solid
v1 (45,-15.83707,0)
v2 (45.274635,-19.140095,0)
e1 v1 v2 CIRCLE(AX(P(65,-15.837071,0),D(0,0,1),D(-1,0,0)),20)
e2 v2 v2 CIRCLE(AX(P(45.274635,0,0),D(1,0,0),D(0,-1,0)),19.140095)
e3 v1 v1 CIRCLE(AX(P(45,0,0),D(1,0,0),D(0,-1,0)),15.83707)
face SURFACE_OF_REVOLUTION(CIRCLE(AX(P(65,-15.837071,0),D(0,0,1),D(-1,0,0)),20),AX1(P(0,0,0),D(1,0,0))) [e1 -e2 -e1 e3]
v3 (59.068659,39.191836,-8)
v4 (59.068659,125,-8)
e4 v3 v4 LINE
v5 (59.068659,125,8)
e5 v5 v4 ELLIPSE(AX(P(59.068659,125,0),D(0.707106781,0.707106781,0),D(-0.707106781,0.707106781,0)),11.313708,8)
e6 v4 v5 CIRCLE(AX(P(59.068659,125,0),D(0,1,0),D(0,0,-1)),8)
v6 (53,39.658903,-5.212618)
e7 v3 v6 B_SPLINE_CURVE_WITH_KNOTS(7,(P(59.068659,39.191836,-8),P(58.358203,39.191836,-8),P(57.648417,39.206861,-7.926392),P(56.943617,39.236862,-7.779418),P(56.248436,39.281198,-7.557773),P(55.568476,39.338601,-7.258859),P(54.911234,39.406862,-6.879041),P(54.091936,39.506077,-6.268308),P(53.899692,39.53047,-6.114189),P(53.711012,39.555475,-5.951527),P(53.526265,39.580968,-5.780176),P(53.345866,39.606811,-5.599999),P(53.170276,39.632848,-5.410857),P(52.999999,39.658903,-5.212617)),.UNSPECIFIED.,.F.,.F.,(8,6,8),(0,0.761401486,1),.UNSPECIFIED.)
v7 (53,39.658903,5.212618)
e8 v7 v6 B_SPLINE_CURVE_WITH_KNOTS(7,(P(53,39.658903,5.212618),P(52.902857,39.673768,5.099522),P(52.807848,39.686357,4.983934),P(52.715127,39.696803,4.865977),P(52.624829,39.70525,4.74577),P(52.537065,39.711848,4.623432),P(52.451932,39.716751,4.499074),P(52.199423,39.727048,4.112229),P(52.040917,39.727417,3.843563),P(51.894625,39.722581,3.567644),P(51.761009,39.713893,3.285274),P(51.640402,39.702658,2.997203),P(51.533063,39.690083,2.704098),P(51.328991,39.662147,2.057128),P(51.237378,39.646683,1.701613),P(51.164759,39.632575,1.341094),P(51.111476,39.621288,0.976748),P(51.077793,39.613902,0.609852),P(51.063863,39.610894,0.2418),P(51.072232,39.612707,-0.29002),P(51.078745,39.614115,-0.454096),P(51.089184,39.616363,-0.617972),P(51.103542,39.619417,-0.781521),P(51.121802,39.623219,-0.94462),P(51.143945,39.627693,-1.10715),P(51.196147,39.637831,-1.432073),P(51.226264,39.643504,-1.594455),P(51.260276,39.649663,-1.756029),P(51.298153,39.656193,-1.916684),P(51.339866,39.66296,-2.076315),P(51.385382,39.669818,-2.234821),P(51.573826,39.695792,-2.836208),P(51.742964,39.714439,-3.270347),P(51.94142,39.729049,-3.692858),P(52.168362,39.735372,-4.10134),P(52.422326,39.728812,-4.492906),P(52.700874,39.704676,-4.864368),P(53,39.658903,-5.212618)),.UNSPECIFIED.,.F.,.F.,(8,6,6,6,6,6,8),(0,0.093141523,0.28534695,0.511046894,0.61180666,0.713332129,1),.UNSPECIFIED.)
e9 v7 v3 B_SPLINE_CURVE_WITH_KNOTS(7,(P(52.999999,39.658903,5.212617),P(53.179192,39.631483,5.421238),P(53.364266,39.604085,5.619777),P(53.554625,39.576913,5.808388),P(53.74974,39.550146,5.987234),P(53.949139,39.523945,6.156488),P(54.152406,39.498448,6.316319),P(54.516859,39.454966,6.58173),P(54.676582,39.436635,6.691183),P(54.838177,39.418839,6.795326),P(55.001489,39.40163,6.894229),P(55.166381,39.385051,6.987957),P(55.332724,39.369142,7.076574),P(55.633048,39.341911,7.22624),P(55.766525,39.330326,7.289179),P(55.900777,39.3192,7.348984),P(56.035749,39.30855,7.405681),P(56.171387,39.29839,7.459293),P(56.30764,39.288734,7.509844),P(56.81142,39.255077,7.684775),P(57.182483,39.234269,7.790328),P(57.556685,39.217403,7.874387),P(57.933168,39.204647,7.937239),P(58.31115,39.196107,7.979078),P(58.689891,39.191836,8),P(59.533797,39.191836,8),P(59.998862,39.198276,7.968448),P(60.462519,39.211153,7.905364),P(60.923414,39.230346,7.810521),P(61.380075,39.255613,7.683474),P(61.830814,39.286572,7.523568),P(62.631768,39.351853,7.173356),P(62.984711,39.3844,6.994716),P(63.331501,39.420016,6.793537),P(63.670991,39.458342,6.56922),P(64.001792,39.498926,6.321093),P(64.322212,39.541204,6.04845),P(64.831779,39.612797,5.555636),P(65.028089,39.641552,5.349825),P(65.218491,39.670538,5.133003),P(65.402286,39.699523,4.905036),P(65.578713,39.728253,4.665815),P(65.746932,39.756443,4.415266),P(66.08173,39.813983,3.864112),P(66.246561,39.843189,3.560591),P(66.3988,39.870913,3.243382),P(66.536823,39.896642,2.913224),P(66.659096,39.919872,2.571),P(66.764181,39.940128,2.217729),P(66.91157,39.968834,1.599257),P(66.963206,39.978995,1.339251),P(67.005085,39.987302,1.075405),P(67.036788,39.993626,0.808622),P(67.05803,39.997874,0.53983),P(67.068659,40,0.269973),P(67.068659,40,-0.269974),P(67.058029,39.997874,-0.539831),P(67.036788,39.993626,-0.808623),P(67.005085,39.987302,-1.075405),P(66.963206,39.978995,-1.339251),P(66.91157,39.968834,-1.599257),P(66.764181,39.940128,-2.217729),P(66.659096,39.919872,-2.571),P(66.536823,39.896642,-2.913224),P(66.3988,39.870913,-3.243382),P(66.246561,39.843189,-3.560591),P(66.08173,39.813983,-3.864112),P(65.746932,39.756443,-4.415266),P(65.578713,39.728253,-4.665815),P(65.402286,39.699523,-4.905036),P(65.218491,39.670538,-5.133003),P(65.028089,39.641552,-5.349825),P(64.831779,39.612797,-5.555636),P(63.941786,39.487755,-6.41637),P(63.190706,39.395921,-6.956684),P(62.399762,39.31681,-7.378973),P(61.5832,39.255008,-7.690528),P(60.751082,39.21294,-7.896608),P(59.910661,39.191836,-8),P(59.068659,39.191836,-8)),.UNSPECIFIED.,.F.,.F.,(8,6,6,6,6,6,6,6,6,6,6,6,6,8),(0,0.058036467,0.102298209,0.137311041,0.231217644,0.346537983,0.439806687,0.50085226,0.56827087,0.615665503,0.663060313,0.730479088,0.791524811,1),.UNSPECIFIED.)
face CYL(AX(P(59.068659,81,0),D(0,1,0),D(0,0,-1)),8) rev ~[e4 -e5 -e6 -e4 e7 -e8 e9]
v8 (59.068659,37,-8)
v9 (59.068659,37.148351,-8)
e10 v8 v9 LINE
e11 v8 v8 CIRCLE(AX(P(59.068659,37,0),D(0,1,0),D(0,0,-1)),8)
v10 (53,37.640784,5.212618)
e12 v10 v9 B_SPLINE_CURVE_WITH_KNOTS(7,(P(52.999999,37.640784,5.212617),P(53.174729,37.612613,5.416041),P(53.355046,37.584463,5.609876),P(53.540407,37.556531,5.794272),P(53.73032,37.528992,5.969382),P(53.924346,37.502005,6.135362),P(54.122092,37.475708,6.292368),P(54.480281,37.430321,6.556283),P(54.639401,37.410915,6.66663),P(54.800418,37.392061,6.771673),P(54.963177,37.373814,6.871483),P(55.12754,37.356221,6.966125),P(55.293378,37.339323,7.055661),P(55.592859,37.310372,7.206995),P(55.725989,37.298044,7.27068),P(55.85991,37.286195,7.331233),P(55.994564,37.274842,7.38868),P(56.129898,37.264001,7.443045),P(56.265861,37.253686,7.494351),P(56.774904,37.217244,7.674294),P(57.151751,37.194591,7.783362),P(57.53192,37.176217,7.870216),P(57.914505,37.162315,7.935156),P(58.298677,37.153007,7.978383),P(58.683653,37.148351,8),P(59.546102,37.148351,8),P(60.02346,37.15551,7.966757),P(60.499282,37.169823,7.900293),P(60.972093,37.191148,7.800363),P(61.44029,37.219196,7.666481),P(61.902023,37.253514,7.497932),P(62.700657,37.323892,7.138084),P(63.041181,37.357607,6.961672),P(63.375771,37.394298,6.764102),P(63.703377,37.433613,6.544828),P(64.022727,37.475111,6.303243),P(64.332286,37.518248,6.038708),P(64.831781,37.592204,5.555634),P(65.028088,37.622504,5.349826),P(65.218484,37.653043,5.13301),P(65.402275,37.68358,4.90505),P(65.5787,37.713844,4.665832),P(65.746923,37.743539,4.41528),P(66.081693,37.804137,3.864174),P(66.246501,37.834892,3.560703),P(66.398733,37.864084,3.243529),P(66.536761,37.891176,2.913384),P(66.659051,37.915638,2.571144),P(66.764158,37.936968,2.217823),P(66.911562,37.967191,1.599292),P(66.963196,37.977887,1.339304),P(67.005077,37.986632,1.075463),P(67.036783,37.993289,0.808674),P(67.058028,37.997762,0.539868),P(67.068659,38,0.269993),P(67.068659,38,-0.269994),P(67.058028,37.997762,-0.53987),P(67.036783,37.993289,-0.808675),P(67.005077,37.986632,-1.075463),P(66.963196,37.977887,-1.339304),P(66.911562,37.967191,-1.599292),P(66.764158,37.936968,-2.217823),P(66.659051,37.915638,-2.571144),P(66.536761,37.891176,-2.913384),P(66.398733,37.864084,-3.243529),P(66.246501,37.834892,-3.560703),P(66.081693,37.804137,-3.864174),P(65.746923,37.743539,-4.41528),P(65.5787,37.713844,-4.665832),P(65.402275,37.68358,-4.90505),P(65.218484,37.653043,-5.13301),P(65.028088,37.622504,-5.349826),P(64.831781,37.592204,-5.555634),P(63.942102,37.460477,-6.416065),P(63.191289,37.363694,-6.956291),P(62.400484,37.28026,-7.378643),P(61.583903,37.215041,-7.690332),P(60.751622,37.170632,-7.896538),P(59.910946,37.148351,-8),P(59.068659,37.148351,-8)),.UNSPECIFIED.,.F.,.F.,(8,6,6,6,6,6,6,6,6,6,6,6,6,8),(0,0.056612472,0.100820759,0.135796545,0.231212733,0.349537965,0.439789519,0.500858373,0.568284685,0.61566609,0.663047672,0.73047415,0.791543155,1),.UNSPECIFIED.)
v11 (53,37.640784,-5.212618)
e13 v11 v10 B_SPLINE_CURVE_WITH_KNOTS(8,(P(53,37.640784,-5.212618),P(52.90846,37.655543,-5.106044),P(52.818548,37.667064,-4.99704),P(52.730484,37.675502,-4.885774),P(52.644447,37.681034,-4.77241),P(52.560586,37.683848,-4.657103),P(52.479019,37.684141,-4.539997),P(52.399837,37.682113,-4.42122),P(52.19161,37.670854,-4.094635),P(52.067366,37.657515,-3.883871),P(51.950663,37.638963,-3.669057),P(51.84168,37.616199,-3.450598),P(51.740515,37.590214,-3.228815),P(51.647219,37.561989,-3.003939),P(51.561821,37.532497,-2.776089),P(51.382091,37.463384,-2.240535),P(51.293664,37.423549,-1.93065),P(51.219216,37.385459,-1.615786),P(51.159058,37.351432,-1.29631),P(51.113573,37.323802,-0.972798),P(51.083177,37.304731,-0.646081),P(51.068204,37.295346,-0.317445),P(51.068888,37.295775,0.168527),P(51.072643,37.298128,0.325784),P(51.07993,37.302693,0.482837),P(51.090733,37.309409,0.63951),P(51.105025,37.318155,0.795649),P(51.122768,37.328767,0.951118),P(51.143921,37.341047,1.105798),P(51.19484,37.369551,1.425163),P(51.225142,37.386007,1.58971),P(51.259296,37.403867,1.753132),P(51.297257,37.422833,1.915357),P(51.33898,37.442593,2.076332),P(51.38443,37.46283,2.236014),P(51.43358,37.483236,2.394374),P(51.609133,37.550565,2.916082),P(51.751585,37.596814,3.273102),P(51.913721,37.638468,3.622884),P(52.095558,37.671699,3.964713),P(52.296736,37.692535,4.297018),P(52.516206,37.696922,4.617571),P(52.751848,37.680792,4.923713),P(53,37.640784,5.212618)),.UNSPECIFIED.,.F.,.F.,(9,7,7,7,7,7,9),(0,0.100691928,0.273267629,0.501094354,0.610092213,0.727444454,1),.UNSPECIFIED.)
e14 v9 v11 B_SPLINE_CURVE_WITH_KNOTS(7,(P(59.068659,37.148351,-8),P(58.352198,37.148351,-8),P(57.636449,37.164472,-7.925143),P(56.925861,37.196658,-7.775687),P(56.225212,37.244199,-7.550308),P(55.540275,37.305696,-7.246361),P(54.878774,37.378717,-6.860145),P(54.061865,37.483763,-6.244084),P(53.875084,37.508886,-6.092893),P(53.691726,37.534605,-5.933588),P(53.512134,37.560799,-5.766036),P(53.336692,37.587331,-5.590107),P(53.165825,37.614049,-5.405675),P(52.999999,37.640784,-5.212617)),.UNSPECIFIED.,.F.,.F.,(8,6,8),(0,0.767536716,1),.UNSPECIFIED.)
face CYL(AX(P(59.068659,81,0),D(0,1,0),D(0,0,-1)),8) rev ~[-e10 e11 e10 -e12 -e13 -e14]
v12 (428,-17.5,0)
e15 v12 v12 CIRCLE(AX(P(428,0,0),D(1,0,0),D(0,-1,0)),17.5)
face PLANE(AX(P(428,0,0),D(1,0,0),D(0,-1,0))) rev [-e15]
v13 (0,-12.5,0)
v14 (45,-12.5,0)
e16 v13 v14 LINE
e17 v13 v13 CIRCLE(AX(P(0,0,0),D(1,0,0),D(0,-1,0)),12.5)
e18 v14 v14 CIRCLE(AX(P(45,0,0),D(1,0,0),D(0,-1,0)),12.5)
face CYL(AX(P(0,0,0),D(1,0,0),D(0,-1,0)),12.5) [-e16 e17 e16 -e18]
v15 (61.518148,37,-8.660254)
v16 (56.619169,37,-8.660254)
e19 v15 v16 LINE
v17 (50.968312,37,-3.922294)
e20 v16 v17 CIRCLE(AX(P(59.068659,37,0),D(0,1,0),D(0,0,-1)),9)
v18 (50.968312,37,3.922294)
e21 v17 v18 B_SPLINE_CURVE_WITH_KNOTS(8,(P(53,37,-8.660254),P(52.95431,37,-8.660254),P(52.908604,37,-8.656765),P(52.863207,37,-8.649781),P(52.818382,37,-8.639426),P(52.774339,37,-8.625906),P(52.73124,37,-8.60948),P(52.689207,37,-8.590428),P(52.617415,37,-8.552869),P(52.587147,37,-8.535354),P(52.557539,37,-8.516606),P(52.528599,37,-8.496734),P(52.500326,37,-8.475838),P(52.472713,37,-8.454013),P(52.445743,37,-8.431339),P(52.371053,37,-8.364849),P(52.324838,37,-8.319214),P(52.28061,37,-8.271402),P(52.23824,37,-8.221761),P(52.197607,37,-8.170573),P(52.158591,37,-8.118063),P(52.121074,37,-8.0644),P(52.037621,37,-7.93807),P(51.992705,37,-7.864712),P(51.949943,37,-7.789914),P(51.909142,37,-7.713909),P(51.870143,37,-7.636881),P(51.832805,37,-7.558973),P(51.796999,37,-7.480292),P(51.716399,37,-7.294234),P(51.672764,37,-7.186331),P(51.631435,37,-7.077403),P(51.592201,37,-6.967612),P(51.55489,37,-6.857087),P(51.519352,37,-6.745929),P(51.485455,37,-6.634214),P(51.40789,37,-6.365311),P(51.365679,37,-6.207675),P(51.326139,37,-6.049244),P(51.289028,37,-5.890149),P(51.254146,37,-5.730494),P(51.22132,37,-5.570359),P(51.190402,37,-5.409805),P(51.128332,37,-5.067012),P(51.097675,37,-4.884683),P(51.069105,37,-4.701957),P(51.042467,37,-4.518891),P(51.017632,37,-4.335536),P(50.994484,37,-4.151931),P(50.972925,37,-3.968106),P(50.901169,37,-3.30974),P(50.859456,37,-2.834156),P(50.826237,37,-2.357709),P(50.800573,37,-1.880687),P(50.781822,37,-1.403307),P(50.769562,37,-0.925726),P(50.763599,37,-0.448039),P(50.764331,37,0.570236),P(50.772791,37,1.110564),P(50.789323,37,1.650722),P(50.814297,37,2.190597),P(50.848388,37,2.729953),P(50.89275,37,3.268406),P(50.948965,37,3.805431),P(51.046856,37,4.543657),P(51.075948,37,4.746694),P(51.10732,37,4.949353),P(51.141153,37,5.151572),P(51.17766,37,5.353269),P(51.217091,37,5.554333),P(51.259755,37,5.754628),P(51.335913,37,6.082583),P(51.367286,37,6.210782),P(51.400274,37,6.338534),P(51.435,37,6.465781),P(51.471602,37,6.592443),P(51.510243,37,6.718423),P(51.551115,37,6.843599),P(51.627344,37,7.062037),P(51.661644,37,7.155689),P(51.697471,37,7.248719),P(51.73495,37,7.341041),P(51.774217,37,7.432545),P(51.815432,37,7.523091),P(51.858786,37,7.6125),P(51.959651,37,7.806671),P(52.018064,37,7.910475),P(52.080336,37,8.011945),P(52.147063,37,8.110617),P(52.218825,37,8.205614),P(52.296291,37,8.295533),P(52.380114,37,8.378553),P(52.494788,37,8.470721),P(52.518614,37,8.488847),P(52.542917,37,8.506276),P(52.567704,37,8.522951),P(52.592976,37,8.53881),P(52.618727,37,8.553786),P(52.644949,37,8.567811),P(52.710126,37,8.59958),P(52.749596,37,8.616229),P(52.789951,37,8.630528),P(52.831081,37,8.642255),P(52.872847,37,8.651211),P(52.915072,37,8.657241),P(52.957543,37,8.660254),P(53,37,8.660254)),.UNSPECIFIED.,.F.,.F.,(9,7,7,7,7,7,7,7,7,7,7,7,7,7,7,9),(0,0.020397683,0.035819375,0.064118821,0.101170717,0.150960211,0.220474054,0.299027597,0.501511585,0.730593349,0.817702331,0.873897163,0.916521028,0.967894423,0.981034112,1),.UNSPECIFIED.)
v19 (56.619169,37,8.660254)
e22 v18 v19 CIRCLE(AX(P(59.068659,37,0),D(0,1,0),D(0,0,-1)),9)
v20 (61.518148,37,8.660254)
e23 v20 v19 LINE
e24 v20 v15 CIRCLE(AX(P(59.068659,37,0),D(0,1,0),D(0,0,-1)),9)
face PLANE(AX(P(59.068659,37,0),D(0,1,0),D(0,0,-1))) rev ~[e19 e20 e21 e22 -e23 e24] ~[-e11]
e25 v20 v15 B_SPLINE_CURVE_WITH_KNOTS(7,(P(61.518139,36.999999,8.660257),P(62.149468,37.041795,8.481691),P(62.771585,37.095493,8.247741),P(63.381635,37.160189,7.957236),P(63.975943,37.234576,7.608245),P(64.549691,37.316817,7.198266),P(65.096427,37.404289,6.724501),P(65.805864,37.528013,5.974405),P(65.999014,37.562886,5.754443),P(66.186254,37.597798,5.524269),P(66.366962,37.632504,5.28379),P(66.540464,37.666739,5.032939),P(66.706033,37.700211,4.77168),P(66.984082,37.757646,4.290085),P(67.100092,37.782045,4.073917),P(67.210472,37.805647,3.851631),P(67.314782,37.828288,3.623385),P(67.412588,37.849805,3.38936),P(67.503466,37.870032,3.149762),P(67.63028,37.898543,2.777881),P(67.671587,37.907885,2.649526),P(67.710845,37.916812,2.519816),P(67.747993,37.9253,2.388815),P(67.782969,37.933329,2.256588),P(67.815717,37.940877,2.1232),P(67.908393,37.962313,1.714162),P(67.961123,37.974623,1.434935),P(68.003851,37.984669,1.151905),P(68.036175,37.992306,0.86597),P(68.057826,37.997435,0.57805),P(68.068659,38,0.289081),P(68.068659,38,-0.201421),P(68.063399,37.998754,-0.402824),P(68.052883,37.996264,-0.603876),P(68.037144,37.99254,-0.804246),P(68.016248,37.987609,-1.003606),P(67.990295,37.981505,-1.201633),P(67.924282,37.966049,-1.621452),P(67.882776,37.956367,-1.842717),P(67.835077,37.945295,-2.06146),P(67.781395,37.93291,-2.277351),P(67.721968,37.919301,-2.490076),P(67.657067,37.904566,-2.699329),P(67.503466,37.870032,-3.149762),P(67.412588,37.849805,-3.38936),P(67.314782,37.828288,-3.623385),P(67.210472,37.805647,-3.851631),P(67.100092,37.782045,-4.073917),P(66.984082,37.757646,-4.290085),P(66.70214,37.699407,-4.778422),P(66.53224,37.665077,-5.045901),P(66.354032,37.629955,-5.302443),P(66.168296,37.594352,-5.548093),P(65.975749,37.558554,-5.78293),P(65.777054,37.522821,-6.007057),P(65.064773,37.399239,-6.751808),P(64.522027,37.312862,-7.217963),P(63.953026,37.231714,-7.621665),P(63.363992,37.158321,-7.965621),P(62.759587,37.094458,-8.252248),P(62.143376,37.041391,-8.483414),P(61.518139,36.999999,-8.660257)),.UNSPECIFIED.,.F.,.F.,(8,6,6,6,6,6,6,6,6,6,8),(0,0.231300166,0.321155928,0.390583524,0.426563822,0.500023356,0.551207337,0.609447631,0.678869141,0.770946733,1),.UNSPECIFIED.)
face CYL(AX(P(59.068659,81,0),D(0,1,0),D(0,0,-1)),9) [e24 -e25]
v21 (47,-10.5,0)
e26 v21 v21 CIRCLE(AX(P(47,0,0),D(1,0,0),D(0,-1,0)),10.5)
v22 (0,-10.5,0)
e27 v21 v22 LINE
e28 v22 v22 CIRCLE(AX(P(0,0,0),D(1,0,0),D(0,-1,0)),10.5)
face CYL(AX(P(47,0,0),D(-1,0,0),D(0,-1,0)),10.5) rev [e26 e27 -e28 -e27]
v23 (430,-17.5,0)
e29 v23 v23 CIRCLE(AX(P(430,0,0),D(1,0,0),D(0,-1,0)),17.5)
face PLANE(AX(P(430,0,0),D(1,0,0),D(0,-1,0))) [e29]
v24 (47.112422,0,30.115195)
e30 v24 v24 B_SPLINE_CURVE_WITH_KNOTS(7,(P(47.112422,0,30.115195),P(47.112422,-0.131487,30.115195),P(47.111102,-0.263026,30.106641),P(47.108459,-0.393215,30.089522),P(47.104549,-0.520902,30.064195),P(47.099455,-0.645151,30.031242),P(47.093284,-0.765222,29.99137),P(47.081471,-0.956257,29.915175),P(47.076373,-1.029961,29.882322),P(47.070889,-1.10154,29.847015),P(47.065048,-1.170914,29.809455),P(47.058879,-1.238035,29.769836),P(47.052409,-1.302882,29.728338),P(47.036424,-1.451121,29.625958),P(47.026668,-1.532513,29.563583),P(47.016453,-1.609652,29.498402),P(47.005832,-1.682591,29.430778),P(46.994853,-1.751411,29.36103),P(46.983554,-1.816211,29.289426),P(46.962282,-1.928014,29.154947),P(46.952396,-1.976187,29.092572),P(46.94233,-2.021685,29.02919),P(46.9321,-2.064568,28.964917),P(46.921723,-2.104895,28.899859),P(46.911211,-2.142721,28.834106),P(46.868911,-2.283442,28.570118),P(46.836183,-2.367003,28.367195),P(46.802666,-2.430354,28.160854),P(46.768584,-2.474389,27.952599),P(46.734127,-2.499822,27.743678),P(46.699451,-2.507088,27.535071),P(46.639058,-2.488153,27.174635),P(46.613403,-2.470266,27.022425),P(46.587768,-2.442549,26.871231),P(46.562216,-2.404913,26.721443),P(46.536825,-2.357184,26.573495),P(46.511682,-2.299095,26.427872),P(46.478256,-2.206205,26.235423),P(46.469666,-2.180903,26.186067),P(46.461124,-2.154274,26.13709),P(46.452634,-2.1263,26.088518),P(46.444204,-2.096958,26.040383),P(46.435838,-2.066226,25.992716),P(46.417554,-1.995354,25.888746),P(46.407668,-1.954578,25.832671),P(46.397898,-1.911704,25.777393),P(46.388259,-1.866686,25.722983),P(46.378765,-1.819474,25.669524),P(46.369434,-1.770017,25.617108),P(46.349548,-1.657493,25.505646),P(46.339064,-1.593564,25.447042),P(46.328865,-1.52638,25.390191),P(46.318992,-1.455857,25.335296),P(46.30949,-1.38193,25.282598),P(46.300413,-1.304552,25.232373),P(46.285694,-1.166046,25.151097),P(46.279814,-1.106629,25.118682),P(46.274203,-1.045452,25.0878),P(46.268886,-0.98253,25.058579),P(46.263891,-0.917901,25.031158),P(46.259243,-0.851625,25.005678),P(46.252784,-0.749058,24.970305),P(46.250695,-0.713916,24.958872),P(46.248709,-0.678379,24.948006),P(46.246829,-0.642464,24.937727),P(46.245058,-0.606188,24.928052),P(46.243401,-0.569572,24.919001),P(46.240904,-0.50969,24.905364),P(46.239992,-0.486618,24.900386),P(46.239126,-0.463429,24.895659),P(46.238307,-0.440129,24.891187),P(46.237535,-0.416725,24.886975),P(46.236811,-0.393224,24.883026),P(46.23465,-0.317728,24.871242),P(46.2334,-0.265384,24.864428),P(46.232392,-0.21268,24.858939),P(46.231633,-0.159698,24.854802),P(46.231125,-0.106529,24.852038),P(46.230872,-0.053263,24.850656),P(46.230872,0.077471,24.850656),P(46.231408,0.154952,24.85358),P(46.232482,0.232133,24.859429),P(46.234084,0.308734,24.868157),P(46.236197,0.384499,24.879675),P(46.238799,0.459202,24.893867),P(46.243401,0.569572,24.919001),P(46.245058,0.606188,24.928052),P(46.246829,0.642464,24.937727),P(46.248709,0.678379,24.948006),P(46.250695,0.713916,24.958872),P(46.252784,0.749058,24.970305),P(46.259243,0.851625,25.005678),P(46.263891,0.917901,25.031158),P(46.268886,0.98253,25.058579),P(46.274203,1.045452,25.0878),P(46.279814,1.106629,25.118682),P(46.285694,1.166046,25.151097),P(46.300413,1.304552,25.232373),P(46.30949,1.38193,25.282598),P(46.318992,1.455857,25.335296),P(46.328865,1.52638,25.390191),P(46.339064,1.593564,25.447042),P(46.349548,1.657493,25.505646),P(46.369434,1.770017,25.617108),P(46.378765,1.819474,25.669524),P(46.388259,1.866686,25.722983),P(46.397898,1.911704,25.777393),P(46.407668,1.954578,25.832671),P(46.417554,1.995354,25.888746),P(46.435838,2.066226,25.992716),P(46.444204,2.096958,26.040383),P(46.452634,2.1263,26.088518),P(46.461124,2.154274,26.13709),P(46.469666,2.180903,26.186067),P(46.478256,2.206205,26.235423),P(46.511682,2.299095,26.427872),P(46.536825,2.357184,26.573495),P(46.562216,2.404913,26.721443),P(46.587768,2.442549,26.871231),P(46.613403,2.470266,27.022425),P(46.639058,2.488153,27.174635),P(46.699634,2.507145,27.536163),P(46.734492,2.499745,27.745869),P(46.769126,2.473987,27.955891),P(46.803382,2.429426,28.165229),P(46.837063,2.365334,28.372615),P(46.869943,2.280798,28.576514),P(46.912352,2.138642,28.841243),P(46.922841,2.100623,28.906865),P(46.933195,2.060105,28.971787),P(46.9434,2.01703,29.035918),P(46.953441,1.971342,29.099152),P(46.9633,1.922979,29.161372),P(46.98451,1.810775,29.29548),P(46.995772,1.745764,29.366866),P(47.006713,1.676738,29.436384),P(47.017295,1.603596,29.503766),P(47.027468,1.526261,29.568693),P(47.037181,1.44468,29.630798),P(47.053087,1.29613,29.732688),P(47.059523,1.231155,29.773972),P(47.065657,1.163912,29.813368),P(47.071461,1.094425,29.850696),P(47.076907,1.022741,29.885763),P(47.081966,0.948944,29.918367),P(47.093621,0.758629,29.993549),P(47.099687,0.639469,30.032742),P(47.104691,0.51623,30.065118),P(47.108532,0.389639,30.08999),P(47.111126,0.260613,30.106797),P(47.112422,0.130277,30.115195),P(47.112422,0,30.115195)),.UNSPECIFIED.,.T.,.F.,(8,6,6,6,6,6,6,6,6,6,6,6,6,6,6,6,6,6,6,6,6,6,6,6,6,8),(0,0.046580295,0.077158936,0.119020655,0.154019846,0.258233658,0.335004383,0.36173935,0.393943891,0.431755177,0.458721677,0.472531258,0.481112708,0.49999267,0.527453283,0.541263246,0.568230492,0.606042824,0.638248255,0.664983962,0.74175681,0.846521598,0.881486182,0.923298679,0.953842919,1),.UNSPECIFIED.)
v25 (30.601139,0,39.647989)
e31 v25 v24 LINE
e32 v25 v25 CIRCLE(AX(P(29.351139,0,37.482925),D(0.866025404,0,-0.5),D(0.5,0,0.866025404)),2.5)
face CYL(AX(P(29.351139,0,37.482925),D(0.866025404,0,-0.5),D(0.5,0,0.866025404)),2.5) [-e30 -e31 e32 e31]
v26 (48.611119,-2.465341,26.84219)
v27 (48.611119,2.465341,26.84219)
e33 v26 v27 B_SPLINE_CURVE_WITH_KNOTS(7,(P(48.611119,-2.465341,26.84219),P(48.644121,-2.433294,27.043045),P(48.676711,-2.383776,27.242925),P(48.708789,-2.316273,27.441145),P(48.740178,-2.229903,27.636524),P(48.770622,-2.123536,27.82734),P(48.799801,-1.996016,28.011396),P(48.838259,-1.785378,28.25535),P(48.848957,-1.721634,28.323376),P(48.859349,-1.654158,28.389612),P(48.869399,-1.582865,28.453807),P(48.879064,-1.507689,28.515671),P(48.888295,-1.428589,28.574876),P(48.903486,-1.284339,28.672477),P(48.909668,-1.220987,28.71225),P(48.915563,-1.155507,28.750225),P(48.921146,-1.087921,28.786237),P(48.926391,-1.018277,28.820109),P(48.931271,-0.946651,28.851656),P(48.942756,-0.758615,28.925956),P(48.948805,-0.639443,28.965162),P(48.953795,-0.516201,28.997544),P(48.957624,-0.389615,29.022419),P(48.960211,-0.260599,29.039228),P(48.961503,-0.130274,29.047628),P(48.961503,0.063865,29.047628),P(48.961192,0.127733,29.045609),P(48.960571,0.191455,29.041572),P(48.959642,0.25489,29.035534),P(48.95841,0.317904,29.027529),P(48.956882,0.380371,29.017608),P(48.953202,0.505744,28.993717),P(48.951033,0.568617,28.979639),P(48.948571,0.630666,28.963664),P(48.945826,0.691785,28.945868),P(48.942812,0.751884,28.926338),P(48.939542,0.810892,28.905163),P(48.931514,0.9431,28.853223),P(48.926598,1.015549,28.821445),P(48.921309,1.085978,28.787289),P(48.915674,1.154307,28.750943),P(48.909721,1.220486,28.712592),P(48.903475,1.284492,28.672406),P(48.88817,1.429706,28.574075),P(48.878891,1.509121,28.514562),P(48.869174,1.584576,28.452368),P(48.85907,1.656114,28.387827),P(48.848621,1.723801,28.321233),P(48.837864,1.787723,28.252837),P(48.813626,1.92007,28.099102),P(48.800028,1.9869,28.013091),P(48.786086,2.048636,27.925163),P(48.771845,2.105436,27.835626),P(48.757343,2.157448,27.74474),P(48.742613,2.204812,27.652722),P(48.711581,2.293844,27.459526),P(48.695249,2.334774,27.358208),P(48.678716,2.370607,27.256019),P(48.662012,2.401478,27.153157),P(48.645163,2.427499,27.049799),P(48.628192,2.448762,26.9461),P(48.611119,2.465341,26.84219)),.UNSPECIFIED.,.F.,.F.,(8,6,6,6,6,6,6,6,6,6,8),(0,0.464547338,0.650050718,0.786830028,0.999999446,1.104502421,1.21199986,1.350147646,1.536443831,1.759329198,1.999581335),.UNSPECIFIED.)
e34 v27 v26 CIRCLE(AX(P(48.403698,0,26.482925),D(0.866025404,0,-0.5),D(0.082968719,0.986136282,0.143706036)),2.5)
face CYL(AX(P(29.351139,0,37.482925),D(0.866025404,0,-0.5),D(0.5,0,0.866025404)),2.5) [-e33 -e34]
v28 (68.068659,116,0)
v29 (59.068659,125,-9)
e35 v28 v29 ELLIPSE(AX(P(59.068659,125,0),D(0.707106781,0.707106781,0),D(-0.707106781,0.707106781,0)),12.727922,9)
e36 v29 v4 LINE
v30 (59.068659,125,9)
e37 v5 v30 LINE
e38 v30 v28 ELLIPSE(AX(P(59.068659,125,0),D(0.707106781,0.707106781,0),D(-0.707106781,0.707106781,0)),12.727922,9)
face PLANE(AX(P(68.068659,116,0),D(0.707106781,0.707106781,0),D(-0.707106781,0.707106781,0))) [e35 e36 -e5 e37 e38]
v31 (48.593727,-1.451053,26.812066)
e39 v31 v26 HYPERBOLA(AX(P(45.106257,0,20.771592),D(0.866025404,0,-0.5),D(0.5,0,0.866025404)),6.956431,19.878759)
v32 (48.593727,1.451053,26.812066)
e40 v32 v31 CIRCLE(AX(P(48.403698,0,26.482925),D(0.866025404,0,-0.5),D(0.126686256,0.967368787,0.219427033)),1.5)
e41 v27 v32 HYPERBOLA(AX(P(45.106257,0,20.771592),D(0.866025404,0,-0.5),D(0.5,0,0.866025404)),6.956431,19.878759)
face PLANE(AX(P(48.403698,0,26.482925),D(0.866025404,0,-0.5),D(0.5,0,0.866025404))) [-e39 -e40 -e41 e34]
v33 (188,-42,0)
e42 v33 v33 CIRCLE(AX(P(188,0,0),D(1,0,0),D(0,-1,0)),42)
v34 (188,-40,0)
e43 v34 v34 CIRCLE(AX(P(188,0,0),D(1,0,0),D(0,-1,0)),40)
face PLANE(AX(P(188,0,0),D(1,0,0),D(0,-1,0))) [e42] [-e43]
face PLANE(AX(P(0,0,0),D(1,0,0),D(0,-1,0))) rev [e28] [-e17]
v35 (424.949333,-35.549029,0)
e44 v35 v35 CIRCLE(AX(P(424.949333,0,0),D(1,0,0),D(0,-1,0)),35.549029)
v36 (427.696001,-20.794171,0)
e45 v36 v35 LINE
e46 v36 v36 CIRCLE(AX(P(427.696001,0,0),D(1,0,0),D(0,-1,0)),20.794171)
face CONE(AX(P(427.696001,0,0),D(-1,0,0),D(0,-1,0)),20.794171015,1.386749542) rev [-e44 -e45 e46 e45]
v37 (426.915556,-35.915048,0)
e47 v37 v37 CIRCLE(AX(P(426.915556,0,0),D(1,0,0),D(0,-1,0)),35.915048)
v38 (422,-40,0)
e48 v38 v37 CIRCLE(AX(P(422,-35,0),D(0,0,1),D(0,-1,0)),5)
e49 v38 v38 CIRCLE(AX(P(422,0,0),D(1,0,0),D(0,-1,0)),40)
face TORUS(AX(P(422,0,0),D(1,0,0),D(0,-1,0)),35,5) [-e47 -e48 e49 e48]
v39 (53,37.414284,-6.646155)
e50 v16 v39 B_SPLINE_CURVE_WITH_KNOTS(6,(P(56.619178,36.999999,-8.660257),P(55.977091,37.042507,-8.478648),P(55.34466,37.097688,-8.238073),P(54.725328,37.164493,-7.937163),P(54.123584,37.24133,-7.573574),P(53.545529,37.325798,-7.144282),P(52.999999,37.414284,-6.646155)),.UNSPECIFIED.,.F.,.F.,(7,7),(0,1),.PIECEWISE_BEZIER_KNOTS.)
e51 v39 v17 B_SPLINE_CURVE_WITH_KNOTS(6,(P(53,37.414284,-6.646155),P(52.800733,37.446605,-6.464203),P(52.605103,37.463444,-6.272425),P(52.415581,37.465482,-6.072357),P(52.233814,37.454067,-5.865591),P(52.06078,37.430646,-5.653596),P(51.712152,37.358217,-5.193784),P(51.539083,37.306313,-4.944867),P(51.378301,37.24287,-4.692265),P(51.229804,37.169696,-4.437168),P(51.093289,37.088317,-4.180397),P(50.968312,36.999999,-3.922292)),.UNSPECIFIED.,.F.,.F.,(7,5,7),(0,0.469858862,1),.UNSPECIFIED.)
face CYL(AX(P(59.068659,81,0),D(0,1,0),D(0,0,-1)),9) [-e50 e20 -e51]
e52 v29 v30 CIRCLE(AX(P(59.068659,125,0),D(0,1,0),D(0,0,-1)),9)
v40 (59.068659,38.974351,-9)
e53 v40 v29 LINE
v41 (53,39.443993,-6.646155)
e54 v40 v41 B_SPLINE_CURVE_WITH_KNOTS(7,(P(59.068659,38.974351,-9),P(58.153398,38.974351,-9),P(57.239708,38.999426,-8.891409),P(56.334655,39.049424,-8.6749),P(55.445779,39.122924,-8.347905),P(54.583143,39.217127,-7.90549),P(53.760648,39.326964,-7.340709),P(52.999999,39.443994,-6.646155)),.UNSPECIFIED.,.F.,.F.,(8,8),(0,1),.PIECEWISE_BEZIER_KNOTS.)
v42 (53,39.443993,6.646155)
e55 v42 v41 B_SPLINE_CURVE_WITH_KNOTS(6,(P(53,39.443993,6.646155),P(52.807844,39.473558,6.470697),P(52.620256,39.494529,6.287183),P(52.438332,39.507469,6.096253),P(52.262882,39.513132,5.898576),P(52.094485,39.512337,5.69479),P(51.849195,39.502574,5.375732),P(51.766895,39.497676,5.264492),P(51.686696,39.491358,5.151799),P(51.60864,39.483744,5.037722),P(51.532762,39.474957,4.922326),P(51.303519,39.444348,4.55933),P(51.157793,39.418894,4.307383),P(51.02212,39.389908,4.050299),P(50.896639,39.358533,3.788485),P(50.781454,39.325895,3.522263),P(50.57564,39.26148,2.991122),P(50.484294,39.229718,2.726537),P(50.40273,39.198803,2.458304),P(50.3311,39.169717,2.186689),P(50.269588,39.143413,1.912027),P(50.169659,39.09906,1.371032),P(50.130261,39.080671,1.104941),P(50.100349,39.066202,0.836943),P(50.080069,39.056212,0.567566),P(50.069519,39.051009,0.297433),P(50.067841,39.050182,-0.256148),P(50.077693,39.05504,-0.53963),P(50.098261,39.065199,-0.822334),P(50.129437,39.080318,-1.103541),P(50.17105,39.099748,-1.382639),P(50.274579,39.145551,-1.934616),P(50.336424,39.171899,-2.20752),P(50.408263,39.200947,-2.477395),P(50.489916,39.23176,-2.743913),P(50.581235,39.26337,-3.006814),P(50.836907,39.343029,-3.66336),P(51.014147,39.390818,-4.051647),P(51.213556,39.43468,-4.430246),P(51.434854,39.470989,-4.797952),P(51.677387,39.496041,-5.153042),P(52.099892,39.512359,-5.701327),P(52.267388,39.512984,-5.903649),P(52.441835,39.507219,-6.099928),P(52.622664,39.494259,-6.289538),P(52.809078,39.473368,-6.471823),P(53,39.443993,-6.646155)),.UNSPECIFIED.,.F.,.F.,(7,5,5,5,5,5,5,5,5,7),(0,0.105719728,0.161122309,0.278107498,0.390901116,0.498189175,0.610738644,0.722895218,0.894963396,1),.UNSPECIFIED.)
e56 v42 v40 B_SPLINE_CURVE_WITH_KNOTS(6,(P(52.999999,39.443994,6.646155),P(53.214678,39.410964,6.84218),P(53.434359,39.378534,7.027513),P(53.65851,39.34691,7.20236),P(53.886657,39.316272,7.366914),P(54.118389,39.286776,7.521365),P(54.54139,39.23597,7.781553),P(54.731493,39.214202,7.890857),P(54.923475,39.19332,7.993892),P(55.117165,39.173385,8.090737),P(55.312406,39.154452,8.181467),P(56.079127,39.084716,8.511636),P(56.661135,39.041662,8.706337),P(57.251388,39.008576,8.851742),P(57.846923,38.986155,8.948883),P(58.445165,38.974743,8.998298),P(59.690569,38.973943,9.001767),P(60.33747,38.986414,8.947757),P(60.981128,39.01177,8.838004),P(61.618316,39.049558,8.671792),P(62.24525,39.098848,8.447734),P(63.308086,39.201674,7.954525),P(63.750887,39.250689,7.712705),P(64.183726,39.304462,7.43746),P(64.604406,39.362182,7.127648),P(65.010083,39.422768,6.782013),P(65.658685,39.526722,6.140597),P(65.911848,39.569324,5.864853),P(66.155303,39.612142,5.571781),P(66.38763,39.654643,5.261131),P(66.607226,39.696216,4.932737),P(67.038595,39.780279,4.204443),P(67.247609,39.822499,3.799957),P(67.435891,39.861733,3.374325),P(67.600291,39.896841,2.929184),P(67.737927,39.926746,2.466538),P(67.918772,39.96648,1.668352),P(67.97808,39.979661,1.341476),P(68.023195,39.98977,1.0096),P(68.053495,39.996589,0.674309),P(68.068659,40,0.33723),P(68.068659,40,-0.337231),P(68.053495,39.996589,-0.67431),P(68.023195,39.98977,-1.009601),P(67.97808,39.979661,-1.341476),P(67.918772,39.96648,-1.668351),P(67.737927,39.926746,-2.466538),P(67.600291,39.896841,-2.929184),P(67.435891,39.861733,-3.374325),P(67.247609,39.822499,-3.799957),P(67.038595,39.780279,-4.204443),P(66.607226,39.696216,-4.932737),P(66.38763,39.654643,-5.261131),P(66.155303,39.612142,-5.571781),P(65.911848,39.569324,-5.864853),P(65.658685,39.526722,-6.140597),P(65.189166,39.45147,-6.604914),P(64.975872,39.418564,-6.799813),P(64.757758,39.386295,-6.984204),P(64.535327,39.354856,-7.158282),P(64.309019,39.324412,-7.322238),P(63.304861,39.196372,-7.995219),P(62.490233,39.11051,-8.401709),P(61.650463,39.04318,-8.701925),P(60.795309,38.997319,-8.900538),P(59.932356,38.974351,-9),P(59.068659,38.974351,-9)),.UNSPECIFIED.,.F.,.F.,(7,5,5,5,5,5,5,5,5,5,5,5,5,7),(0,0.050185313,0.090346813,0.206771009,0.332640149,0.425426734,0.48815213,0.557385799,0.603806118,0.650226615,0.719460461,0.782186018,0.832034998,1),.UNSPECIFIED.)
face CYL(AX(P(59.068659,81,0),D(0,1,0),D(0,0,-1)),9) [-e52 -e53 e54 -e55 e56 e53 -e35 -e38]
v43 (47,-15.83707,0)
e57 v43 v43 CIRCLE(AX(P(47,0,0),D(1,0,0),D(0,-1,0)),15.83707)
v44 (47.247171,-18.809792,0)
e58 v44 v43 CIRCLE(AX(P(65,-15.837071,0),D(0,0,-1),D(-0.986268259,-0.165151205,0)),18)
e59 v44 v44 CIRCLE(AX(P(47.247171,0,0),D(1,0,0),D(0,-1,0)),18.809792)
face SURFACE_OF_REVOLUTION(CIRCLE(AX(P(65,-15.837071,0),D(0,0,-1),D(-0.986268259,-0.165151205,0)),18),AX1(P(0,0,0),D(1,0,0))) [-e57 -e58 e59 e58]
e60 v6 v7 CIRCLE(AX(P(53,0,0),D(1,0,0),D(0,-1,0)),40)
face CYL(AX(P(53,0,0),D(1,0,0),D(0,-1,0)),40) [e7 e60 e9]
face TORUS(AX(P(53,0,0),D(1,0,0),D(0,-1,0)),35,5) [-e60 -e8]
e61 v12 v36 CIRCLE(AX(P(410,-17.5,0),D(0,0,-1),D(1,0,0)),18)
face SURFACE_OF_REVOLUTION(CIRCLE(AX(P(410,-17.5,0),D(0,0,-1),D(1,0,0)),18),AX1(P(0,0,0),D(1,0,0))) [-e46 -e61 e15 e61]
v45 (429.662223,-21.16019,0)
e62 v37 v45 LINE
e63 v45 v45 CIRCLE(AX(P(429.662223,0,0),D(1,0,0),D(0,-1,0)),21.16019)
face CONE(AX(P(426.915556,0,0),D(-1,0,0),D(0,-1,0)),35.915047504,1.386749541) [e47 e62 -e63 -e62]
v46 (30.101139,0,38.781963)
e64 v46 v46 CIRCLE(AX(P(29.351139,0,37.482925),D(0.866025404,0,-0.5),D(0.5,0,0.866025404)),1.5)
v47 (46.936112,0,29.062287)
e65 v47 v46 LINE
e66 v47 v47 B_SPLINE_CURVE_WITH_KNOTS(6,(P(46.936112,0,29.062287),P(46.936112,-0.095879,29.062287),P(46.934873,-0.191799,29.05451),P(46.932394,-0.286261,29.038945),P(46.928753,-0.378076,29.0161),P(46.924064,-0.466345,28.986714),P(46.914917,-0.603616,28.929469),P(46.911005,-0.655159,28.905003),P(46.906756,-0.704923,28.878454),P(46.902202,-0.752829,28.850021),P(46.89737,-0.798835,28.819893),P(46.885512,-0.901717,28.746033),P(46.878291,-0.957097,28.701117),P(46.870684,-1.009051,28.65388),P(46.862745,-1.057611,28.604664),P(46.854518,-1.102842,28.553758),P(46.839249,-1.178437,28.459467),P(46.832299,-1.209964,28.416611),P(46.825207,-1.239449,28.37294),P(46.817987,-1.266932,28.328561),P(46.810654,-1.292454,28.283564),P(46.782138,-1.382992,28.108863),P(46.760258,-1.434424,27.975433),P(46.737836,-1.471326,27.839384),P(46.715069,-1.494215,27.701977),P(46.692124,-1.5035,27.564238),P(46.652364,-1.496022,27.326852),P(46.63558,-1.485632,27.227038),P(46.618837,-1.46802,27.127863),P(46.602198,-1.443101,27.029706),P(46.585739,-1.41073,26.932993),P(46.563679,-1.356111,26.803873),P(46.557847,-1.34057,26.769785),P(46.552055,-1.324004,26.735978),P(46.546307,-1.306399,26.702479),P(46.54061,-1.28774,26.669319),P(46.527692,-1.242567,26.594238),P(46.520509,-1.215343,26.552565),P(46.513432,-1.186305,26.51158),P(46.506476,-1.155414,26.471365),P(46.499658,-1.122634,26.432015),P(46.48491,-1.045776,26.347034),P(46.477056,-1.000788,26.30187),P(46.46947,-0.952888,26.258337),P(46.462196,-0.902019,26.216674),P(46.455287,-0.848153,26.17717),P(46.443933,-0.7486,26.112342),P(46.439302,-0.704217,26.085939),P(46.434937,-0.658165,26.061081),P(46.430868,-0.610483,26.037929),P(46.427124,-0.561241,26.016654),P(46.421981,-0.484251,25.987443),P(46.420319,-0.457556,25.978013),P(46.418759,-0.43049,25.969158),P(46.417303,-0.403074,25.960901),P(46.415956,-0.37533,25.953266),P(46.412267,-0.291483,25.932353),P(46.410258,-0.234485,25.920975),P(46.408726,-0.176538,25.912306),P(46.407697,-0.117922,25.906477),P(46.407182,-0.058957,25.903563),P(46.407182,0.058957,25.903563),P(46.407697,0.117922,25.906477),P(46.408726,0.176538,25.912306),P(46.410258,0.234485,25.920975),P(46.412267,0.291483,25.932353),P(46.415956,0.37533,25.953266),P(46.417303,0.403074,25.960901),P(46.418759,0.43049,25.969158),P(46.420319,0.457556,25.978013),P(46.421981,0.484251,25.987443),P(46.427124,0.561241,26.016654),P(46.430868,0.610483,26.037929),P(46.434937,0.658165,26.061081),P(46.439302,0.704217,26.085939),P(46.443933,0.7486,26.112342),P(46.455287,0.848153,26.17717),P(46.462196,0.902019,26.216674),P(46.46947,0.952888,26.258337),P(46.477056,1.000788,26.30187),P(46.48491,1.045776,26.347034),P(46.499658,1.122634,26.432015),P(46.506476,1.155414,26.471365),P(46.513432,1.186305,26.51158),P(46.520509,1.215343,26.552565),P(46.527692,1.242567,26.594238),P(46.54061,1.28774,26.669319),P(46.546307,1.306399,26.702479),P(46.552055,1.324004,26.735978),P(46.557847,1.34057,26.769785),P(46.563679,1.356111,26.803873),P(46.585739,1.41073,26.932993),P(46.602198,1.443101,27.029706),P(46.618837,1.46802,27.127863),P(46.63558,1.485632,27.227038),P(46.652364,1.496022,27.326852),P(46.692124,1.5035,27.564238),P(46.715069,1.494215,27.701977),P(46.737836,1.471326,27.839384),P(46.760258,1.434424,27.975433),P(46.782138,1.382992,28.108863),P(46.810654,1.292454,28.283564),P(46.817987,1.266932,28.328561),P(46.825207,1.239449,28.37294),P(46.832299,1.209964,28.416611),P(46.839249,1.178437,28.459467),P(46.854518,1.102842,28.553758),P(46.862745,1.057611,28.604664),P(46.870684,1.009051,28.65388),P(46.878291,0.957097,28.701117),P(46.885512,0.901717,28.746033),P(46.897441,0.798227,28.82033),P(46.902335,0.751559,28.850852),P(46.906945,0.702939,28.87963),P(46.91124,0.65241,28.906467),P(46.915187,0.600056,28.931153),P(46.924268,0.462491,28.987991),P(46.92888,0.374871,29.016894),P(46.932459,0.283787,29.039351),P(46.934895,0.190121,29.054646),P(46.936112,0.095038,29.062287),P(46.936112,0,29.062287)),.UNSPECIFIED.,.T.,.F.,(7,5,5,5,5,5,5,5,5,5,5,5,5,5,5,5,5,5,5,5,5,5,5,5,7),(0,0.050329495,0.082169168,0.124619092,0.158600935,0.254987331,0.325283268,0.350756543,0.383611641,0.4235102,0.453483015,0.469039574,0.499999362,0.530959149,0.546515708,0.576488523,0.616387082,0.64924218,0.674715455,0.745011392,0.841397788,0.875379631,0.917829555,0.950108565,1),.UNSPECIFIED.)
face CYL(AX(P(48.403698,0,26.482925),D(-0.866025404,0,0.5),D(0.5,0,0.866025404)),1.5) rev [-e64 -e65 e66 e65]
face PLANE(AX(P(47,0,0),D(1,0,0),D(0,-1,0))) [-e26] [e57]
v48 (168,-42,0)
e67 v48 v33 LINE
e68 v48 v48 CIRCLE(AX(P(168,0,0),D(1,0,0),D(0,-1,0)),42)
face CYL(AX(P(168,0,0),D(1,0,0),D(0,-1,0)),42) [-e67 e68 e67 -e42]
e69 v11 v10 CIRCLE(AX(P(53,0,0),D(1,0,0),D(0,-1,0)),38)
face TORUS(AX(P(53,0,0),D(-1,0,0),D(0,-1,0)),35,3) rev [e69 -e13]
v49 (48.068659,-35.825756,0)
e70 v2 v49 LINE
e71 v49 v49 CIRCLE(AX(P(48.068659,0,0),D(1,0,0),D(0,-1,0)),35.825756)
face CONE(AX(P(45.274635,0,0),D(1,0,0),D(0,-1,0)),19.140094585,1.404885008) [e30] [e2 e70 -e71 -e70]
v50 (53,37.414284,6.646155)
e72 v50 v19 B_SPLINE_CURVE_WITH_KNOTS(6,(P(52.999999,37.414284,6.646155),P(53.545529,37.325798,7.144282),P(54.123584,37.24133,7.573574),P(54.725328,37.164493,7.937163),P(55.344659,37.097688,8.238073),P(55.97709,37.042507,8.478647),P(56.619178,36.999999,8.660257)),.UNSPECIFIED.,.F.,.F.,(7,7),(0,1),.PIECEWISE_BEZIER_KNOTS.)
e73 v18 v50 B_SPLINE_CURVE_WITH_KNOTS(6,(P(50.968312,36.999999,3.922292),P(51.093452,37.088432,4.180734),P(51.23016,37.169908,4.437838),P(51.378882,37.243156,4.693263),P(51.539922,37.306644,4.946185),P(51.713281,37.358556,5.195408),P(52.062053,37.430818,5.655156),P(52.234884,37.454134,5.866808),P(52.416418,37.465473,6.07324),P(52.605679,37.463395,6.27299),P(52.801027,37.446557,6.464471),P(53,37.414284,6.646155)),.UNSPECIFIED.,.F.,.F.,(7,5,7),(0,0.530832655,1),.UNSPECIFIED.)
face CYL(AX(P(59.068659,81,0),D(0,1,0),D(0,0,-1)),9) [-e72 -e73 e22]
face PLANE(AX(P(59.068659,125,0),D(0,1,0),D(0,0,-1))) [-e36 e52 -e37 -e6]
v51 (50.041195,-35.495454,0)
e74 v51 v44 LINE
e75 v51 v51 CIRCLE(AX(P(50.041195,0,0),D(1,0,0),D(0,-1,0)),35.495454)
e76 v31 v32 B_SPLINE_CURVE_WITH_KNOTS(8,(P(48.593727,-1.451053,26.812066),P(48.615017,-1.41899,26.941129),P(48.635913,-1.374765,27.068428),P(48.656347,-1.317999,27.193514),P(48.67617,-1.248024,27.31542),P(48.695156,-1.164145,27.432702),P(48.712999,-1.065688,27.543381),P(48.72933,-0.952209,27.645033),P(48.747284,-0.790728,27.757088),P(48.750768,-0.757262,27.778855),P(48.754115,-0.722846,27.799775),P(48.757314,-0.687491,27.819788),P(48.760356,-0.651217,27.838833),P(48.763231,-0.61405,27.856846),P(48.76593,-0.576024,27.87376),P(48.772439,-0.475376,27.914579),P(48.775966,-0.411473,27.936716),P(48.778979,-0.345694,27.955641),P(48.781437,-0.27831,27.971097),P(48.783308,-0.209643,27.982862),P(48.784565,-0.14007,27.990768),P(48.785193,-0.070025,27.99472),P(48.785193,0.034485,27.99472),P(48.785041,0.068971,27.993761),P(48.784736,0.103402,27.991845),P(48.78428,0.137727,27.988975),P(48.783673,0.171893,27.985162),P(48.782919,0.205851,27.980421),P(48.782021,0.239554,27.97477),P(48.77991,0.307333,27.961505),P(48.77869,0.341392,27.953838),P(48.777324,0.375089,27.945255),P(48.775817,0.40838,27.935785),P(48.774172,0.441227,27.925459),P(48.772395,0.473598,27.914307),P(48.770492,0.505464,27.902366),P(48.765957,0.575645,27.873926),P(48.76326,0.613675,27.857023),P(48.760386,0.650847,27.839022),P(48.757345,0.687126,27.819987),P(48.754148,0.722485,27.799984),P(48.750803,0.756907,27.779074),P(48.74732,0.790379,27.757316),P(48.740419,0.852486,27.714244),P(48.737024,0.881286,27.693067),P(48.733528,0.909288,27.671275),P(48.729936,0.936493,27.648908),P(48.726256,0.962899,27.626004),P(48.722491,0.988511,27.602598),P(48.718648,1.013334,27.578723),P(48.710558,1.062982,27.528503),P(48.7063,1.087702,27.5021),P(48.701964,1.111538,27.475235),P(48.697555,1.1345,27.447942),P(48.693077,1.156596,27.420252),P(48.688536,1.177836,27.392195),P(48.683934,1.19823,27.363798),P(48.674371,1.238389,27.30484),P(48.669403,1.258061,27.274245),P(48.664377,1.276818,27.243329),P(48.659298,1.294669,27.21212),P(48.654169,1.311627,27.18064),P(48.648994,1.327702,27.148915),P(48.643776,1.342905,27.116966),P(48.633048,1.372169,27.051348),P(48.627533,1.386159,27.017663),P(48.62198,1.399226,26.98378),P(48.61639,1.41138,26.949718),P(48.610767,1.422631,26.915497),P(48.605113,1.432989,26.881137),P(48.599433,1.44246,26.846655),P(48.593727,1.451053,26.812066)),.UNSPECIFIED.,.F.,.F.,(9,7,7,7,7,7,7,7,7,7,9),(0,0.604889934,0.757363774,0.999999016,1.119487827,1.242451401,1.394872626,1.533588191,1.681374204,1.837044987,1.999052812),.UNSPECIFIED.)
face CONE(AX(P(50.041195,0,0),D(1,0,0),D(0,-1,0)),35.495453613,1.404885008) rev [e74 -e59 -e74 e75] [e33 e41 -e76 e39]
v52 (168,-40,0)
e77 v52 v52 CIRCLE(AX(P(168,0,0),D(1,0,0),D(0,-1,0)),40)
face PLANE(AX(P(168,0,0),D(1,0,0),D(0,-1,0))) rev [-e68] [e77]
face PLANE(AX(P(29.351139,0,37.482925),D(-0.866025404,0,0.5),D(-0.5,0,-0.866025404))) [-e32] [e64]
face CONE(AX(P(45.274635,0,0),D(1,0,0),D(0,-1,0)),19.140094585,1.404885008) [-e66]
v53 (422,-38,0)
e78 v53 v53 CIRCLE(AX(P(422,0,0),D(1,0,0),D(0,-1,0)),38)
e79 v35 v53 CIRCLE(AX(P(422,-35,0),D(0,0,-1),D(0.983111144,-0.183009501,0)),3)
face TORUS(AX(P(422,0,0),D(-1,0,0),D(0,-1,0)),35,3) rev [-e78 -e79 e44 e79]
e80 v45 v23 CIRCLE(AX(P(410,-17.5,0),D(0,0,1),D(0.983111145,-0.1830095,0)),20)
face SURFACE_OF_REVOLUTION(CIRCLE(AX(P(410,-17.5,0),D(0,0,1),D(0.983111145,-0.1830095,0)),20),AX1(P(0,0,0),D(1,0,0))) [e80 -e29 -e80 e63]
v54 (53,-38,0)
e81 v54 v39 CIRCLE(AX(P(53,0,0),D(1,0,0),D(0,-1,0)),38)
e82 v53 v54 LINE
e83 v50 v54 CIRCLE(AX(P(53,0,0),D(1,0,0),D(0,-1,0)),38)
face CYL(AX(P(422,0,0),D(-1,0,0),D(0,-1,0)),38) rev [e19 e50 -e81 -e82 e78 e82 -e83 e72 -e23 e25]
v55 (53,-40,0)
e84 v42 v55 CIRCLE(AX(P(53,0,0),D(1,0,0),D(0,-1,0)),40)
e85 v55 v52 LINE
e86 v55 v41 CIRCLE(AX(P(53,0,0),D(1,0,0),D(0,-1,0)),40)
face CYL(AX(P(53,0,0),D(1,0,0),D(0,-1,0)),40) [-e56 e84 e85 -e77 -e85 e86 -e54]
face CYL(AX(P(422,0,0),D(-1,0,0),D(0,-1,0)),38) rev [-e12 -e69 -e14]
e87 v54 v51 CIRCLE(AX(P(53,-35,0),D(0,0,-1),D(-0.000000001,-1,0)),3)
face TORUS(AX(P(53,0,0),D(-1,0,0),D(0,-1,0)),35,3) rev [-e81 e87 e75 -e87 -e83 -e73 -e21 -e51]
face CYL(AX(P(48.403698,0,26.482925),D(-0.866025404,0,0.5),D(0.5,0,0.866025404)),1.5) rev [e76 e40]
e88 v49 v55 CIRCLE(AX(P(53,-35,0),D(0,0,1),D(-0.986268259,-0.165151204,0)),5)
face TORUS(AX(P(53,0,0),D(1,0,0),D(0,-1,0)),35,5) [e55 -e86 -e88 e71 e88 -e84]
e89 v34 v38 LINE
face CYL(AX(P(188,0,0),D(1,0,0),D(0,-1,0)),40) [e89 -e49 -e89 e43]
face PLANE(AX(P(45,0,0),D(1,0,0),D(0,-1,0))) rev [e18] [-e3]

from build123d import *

# Parameters (mm, degrees)
SKETCH2_W          = 1
SKETCH2_H          = 88
CUT_EXTRUDE1_DEPTH = 10


with BuildPart() as part:
    # Sketch1 → Revolve1 (revolve)
    with BuildSketch(Plane.XY, mode=Mode.PRIVATE) as revolve1_sk:
        with BuildLine():
            Line((0, 12.5), (45, 12.5))
            Line((45, 12.5), (45, 15.837070498))
            ThreePointArc((45, 15.837070498), (45.068776959, 17.494281438), (45.27463481, 19.140094585))
            Line((45.27463481, 19.140094585), (48.068658702, 35.825756022))
            ThreePointArc((48.068658702, 35.825756022), (49.769580531, 38.816332016), (53, 40))
            Line((53, 40), (168, 40))
            Line((168, 40), (168, 42))
            Line((168, 42), (188, 42))
            Line((188, 42), (188, 40))
            Line((188, 40), (422, 40))
            ThreePointArc((422, 40), (425.195681655, 38.845467301), (426.915555723, 35.915047504))
            Line((426.915555723, 35.915047504), (429.662222892, 21.160190017))
            ThreePointArc((429.662222892, 21.160190017), (429.915376695, 19.337871346), (430, 17.5))
            Line((430, 17.5), (430, 0))
            Line((430, 0), (428, 0))
            Line((428, 0), (428, 17.5))
            ThreePointArc((428, 17.5), (427.923839026, 19.154084211), (427.696000602, 20.794171015))
            Line((427.696000602, 20.794171015), (424.949333434, 35.549028503))
            ThreePointArc((424.949333434, 35.549028503), (423.917408993, 37.30728038), (422, 38))
            Line((422, 38), (53, 38))
            ThreePointArc((53, 38), (51.061748319, 37.289799209), (50.041195221, 35.495453613))
            Line((50.041195221, 35.495453613), (47.247171329, 18.809792177))
            ThreePointArc((47.247171329, 18.809792177), (47.061899263, 17.328560344), (47, 15.837070498))
            Line((47, 15.837070498), (47, 10.5))
            Line((47, 10.5), (0, 10.5))
            Line((0, 10.5), (0, 12.5))
        make_face()
    revolve(revolve1_sk.sketch.rotate(Axis((0, 0, 0), (1, 0, 0)), 180), axis=Axis((0, 0, 0), (1, 0, 0)))

    # Sketch2 → Revolve2 (revolve)
    with BuildSketch(Plane.XY, mode=Mode.PRIVATE) as revolve2_sk:
        with Locations((50.568658702, 81)):
            Rectangle(SKETCH2_W, SKETCH2_H)
    revolve(revolve2_sk.sketch.rotate(Axis((59.068658702, 37, 0), (0, 1, 0)), 270), axis=Axis((59.068658702, 37, 0), (0, 1, 0)))

    # Sketch3 → Cut-Extrude1 (cut, symmetric)
    with BuildSketch(Plane.XY):
        Polygon((59.068658702, 125), (68.068658702, 125), (68.068658702, 116), align=None)
    extrude(amount=CUT_EXTRUDE1_DEPTH, both=True, mode=Mode.SUBTRACT)

    # Sketch4 → Revolve3 (revolve)
    with BuildSketch(Plane(origin=(0, 0, 0), x_dir=(1, 0, 0), z_dir=(0, 1, 0))):
        Polygon((49.153697564, -27.781963409), (30.101138681, -38.781963409), (30.601138681, -39.647988813), (49.653697564, -28.647988813), align=None)
    revolve(axis=Axis((29.351138681, 0, 37.482925303), (0.8660254037844377, 0, -0.5000000000000018)))


solid = part.part
